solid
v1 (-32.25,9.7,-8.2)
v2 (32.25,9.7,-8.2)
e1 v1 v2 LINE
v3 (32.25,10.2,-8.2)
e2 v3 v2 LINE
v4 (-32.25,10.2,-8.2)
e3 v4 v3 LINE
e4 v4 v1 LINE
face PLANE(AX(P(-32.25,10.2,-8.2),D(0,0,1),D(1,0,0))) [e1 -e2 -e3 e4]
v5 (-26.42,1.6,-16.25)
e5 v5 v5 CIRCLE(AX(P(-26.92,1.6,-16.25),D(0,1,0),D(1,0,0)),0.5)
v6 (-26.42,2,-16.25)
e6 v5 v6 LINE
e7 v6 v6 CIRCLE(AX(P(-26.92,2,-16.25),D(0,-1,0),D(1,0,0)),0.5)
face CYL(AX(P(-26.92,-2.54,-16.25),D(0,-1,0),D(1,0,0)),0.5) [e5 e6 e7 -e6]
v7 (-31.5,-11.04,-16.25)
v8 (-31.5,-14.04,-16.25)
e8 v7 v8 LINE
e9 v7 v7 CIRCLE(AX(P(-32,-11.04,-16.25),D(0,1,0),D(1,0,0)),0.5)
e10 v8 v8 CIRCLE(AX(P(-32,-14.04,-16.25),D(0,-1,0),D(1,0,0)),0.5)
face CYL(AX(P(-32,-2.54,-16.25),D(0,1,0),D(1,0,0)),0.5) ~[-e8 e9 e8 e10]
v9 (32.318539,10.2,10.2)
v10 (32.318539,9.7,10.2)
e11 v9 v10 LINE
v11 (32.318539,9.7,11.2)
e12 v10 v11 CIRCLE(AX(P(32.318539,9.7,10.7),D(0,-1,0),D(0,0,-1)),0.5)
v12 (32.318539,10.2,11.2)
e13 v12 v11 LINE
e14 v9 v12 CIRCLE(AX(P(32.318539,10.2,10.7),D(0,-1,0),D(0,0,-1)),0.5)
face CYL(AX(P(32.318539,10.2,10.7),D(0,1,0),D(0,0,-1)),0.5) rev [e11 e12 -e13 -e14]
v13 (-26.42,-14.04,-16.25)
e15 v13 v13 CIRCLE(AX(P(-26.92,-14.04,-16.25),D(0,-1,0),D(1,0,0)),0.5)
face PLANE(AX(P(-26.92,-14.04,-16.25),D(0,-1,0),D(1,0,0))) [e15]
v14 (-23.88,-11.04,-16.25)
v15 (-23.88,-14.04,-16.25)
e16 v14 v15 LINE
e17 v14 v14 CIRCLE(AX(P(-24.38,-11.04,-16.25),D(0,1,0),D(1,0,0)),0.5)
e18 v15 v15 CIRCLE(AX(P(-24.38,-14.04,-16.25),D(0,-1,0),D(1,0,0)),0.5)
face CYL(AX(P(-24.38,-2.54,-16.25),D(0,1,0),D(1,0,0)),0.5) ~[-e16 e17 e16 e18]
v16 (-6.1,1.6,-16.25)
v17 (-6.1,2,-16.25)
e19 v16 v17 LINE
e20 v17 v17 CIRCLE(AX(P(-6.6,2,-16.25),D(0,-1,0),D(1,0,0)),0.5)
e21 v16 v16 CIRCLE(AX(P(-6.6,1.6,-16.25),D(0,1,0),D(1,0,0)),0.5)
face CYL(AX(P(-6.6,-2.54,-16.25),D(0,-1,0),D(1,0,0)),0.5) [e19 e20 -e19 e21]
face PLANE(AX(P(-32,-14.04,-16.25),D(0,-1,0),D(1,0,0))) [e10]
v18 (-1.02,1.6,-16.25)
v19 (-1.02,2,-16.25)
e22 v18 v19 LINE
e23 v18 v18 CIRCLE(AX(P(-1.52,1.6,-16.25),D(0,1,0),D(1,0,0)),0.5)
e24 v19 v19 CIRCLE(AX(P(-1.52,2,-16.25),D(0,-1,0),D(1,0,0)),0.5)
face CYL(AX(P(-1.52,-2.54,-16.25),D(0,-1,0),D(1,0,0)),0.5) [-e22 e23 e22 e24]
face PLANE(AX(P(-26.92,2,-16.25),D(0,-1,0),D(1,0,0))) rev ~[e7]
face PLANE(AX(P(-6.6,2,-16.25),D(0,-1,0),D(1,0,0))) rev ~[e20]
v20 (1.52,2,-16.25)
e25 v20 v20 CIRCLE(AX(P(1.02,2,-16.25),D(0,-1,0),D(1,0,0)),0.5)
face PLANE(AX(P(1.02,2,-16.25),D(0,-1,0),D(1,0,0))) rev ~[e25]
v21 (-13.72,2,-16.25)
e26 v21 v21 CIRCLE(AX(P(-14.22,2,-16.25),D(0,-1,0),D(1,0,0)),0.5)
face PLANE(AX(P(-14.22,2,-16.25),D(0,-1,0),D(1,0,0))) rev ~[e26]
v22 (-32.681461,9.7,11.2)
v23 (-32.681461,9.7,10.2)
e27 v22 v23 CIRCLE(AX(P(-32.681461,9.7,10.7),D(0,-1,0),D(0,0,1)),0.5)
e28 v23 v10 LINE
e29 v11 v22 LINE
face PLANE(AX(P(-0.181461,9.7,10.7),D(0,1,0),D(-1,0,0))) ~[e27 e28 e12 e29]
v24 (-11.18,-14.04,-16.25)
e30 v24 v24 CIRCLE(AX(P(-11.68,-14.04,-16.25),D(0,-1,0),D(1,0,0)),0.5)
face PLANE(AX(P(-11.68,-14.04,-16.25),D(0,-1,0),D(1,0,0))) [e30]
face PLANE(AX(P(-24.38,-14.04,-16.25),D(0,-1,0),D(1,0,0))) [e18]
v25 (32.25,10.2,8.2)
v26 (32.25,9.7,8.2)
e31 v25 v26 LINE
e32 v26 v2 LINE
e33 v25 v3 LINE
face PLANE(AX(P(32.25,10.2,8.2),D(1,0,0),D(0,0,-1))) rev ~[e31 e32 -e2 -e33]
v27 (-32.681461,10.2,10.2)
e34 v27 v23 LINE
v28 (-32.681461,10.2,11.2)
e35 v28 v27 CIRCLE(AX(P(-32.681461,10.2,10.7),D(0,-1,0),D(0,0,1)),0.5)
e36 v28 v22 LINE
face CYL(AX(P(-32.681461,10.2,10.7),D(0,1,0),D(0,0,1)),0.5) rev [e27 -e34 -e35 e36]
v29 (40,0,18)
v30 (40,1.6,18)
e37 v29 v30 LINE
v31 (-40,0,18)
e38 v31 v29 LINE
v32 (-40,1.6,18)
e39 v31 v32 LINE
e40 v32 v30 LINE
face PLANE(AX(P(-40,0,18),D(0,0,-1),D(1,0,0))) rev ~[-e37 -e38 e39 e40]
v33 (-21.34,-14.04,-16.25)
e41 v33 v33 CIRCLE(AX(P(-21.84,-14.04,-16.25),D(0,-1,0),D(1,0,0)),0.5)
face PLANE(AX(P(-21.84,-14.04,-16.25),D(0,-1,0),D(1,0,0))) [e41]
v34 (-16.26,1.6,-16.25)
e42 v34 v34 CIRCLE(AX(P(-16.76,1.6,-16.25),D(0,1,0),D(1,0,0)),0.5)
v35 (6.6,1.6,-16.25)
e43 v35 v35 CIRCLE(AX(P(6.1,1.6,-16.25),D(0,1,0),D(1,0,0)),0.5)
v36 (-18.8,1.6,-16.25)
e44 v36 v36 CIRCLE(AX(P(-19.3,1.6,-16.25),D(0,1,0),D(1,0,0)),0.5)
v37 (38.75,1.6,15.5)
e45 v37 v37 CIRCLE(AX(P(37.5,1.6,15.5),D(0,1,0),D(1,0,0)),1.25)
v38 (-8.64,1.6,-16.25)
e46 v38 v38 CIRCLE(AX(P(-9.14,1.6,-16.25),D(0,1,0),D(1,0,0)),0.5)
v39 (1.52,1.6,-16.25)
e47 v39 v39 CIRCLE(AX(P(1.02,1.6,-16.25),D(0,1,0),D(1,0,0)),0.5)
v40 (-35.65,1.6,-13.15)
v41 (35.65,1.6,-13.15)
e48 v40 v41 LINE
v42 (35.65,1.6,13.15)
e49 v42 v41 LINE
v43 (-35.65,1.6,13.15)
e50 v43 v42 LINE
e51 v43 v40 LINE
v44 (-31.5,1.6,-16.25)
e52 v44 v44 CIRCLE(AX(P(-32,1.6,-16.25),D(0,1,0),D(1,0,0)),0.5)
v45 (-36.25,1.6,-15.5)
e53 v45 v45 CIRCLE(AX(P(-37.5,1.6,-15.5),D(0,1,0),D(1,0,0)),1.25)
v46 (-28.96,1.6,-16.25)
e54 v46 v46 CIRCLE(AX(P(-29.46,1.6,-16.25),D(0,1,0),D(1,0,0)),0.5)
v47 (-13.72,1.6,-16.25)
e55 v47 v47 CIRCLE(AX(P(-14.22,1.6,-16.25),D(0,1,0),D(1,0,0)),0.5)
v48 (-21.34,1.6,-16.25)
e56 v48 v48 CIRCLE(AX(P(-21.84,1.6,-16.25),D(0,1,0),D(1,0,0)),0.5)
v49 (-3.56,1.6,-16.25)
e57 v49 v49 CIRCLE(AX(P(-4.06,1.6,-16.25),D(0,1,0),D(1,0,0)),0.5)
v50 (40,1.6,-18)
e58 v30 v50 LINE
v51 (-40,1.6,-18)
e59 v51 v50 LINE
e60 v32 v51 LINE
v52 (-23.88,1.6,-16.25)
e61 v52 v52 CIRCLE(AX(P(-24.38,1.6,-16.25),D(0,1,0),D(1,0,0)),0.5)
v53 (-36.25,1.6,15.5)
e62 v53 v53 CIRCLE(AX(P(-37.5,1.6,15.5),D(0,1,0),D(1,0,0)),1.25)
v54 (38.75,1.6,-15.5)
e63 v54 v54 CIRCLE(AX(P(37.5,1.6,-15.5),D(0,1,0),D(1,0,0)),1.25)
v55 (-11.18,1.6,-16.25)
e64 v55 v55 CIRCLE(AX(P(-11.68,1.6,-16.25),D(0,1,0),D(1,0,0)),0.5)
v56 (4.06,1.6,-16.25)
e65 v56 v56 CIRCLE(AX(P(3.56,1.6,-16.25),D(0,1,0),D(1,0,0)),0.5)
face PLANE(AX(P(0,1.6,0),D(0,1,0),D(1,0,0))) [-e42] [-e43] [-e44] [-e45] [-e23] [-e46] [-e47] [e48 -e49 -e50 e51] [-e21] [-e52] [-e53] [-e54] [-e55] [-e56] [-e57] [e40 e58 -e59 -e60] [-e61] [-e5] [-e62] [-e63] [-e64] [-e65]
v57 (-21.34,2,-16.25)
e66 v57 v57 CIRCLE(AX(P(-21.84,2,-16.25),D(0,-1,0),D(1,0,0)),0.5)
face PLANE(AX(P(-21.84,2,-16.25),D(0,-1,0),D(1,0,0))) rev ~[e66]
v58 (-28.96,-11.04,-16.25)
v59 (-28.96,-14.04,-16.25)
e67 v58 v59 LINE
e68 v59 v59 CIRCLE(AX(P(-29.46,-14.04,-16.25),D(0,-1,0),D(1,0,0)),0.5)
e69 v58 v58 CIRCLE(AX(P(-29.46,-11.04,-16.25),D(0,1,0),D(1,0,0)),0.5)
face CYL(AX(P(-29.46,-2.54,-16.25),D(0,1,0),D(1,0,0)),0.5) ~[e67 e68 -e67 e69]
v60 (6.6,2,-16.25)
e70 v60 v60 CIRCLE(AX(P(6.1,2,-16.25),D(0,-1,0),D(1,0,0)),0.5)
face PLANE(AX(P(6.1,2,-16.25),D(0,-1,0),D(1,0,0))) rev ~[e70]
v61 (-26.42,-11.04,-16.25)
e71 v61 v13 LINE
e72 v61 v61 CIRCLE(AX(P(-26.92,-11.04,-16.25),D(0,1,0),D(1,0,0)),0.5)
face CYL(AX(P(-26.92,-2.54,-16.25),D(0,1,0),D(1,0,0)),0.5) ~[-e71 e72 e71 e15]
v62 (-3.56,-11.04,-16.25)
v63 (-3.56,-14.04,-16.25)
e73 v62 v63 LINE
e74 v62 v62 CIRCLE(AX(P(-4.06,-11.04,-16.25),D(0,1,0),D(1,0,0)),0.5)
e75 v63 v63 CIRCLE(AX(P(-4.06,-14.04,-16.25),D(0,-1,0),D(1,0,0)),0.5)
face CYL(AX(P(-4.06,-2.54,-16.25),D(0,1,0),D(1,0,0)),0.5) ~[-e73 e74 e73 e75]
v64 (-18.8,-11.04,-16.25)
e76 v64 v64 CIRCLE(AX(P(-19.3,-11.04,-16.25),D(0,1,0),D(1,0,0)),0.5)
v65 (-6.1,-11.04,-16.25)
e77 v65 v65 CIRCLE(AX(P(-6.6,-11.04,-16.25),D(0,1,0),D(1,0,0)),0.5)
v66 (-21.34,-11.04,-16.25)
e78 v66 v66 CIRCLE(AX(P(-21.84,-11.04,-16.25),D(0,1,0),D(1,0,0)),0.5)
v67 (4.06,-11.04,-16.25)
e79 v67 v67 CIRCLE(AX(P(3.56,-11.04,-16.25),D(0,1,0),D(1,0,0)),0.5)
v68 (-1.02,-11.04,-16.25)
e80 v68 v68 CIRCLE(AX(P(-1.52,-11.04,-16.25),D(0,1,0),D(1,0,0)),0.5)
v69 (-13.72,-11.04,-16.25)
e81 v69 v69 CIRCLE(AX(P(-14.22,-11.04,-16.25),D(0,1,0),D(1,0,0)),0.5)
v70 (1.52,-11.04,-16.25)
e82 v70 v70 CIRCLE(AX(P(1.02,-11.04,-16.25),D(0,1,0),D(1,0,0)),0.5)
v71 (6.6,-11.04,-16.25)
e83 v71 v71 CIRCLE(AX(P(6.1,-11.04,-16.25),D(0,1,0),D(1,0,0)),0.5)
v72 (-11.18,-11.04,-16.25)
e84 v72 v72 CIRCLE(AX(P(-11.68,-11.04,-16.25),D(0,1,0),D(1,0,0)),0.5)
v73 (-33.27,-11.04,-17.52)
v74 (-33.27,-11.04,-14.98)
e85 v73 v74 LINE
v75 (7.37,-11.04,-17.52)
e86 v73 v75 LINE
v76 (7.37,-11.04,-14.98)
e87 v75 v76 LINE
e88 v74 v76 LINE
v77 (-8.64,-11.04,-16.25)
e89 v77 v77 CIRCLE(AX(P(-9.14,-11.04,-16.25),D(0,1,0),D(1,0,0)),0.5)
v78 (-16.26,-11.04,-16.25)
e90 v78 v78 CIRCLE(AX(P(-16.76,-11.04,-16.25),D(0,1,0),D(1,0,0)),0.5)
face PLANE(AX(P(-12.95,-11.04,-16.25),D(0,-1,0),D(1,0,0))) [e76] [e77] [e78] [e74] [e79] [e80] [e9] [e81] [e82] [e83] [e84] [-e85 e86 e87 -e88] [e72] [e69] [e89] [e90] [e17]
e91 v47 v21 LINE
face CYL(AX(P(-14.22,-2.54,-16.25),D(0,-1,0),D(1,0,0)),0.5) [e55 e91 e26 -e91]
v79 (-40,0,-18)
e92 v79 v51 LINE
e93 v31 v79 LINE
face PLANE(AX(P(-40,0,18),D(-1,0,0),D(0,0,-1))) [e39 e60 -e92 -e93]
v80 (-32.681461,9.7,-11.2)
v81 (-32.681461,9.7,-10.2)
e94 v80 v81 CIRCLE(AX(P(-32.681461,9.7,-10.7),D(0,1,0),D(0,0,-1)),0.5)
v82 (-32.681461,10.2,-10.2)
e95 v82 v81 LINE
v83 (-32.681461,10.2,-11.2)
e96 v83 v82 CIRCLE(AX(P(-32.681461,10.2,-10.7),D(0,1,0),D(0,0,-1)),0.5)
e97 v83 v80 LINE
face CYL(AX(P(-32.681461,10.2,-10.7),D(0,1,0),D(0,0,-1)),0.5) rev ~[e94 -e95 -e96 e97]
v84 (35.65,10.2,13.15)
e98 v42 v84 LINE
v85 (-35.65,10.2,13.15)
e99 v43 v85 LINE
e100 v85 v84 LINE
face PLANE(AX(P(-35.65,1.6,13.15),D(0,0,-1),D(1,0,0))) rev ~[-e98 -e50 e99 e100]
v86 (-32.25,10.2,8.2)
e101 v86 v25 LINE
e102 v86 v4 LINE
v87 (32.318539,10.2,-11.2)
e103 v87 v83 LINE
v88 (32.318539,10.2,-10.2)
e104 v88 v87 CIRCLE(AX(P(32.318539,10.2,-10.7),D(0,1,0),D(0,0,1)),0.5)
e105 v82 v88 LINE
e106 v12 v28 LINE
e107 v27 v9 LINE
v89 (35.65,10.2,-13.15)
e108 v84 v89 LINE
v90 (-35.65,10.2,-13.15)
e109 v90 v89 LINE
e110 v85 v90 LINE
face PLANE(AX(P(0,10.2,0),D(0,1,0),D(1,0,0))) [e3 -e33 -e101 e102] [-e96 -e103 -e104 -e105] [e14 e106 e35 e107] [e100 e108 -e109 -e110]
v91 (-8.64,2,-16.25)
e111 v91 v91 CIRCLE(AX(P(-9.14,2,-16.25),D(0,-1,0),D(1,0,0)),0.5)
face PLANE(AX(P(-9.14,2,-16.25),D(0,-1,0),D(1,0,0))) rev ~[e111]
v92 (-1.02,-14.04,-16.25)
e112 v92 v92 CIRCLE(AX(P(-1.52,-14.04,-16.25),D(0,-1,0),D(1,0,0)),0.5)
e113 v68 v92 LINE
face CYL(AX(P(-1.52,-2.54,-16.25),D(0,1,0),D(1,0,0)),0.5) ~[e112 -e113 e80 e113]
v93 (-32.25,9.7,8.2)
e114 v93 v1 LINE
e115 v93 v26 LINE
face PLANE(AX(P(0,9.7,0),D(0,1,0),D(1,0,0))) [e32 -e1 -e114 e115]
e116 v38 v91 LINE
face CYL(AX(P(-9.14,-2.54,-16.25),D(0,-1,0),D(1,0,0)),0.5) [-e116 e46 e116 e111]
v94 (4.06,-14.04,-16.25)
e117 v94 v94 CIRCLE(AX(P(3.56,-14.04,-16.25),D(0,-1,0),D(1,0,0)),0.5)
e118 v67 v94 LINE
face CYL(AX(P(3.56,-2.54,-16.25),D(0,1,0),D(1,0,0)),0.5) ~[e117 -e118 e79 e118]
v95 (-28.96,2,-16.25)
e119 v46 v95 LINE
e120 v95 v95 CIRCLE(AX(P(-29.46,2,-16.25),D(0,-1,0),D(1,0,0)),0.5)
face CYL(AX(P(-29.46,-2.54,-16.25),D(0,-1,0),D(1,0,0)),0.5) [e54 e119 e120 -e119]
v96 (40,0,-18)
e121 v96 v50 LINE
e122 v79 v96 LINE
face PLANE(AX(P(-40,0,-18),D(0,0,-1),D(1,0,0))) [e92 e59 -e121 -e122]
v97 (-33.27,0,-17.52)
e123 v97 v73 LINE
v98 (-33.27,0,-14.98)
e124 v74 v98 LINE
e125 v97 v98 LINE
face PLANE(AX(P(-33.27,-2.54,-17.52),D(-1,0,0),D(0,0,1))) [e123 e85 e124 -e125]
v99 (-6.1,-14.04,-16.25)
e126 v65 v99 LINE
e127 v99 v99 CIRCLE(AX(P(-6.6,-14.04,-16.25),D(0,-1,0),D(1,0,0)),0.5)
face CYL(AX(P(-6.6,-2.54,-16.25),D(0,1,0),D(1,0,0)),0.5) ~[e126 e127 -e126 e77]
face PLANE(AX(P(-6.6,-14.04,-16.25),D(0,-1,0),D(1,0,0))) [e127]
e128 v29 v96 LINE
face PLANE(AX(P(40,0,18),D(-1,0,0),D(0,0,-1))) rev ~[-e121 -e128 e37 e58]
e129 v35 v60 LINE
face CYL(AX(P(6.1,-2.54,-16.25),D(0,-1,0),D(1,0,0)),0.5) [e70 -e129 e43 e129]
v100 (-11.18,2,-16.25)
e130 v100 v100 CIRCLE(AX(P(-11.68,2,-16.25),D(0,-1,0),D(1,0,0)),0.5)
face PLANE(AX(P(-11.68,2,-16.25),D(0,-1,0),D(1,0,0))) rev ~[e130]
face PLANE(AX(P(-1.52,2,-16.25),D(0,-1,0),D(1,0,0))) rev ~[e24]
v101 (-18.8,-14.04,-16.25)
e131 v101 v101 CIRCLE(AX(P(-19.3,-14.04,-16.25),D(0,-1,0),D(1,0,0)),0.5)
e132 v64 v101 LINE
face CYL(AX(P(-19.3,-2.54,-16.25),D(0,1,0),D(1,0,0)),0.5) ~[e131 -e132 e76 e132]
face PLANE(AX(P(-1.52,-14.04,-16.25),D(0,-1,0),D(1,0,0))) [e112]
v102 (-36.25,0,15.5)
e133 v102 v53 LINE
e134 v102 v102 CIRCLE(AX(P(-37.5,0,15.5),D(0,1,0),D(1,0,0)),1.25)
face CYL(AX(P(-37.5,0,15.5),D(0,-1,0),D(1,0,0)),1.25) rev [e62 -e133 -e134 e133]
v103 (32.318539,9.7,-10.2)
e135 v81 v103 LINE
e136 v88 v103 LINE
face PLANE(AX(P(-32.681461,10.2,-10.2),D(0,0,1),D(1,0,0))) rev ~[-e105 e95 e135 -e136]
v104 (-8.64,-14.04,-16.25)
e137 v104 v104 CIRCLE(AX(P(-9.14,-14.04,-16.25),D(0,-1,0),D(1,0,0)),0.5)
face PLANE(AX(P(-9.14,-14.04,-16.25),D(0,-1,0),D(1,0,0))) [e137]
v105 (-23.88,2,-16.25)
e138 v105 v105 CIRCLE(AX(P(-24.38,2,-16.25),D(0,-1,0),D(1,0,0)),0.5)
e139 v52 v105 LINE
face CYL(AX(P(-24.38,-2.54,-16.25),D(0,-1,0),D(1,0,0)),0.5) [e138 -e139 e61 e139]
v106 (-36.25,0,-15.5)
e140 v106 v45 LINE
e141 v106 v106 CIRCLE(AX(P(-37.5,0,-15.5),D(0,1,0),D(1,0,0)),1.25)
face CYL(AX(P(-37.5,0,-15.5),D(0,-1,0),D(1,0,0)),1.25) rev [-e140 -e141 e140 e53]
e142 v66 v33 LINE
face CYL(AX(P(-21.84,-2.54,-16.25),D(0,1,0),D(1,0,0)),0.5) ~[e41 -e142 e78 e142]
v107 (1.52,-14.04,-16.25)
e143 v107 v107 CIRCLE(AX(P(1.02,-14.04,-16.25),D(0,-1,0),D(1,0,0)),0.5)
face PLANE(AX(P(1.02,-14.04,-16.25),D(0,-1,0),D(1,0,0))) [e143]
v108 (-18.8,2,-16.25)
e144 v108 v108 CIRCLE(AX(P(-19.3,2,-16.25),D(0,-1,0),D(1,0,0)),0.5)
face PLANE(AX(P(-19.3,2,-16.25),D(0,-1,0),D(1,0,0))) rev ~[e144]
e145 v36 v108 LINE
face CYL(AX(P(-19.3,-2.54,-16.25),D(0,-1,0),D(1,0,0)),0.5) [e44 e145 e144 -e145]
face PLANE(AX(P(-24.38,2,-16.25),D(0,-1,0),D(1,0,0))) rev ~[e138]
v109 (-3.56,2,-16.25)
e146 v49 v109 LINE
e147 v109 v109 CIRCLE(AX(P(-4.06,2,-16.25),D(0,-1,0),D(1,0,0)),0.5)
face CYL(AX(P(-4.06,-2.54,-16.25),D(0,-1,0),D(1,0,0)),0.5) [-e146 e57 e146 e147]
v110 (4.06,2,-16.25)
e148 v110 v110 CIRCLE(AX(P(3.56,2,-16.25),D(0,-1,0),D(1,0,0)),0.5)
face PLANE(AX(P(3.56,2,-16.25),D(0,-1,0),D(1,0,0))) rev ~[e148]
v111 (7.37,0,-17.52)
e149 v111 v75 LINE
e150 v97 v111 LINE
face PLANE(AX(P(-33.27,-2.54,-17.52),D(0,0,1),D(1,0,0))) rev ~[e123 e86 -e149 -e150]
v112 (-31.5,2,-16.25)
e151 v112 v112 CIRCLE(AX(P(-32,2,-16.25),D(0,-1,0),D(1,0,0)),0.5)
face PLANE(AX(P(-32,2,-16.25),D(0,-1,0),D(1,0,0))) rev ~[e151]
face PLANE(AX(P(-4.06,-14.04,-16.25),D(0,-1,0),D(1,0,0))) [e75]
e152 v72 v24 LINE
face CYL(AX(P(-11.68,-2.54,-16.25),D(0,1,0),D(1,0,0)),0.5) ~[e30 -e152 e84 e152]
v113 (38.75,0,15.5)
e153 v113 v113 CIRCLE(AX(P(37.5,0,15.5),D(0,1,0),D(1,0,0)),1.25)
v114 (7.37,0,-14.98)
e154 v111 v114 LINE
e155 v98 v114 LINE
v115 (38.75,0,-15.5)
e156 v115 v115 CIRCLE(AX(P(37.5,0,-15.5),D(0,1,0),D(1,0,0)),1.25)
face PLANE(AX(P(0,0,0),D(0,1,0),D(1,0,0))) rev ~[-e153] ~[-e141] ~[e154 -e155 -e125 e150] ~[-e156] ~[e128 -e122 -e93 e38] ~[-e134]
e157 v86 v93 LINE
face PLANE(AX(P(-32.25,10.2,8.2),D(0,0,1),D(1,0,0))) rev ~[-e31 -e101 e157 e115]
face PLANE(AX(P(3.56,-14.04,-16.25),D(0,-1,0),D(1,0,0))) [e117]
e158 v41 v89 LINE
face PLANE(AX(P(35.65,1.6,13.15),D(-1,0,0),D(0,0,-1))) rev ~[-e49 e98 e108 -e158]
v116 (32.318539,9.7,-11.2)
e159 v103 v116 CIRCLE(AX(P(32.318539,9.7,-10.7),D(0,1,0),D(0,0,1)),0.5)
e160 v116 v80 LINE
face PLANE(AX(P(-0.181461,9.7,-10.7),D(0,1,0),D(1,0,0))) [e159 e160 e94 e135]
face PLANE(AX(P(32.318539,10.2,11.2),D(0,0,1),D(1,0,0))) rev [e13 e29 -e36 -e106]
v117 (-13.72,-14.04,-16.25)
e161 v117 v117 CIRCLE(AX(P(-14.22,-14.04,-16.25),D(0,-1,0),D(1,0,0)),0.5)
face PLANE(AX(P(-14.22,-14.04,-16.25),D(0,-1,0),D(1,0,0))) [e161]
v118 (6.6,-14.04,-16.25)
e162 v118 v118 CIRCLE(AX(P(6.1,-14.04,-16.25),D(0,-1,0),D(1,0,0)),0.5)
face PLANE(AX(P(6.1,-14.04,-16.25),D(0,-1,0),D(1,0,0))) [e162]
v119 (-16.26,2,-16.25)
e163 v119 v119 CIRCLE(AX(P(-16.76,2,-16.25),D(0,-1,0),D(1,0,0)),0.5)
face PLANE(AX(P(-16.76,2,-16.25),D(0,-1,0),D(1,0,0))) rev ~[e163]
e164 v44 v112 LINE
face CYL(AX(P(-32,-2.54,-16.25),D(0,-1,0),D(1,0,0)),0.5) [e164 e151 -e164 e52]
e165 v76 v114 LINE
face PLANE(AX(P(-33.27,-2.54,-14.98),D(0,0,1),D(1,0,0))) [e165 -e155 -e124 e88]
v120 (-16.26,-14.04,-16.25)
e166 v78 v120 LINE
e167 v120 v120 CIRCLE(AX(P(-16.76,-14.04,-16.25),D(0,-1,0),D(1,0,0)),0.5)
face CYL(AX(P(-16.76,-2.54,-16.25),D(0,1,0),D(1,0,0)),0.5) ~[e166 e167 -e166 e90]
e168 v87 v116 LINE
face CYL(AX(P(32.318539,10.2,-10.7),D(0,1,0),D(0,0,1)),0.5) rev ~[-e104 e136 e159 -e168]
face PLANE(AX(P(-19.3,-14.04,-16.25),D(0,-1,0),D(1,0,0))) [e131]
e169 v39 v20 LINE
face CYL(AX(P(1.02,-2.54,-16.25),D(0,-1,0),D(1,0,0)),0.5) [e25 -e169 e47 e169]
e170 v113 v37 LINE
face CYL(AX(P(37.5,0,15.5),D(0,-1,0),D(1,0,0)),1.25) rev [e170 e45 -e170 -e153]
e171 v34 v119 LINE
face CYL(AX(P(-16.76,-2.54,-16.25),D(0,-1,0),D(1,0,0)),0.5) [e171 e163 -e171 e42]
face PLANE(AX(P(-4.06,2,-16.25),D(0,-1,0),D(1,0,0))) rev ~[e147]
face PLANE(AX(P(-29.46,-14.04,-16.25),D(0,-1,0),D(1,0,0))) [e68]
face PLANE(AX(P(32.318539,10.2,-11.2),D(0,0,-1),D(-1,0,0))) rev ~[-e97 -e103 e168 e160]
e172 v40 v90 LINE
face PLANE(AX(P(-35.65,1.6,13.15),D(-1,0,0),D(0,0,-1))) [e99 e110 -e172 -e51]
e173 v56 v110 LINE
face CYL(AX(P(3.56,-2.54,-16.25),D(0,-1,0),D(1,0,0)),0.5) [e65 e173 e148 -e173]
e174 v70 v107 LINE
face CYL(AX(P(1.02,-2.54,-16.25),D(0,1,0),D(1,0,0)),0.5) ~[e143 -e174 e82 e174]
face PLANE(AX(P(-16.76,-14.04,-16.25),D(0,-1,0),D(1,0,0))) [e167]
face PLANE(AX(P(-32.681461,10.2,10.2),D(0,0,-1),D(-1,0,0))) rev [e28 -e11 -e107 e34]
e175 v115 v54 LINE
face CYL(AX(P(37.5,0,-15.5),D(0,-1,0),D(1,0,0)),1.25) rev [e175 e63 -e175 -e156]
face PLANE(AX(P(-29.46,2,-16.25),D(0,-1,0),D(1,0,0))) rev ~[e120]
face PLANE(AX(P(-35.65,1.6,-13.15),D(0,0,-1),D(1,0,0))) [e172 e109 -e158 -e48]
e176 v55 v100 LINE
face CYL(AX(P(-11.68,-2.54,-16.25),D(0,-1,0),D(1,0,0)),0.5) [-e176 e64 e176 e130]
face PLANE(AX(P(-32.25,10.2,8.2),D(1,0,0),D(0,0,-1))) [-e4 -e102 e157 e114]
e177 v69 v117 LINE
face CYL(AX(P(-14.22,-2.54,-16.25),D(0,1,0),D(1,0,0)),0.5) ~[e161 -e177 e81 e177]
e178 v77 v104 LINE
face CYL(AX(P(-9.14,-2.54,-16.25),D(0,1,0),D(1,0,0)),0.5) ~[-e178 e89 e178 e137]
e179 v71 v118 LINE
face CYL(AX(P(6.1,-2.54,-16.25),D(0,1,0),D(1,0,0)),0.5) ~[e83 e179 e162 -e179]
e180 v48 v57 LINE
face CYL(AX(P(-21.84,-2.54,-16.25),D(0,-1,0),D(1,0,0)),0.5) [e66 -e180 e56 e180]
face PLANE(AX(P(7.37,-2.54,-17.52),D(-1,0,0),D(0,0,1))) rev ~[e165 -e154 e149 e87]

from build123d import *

# Parameters (mm, degrees)
SKETCH1_W                = 80
SKETCH1_H                = 36
SKETCH1_R                = 1.25
SKETCH1_R_2              = 0.5
BOSS_EXTRUDE1_DEPTH      = 1.6
SKETCH2_W                = 71.3
SKETCH2_H                = 26.3
BOSS_EXTRUDE2_DEPTH      = 8.6
SKETCH3_W                = 64.5
SKETCH3_H                = 16.4
CUT_EXTRUDE1_DEPTH       = 0.5
CUT_EXTRUDE2_DEPTH       = 0.5
SKETCH5_W                = 40.64
SKETCH5_H                = 2.54
BOSS_EXTRUDE3_DEPTH      = 2.54
SKETCH6_R                = 0.5
BOSS_EXTRUDE4_DEPTH      = 11.5
BOSS_EXTRUDE4_DEPTH_BACK = 4.54
SKETCH7_W                = 40.64
SKETCH7_H                = 2.54
BOSS_EXTRUDE5_DEPTH      = 8.5


with BuildPart() as part:
    # Sketch1 → Boss-Extrude1 (new body)
    with BuildSketch(Plane(origin=(0, 0, 0), x_dir=(1, 0, 0), z_dir=(0, 1, 0))):
        Rectangle(SKETCH1_W, SKETCH1_H)
        with Locations((-37.5, 15.5)):
            Circle(SKETCH1_R, mode=Mode.SUBTRACT)
        with Locations((37.5, 15.5)):
            Circle(SKETCH1_R, mode=Mode.SUBTRACT)
        with Locations((37.5, -15.5)):
            Circle(SKETCH1_R, mode=Mode.SUBTRACT)
        with Locations((-37.5, -15.5)):
            Circle(SKETCH1_R, mode=Mode.SUBTRACT)
        with Locations((-32, 16.25)):
            Circle(SKETCH1_R_2, mode=Mode.SUBTRACT)
        with Locations((-29.46, 16.25)):
            Circle(SKETCH1_R_2, mode=Mode.SUBTRACT)
        with Locations((-26.92, 16.25)):
            Circle(SKETCH1_R_2, mode=Mode.SUBTRACT)
        with Locations((-24.38, 16.25)):
            Circle(SKETCH1_R_2, mode=Mode.SUBTRACT)
        with Locations((-21.84, 16.25)):
            Circle(SKETCH1_R_2, mode=Mode.SUBTRACT)
        with Locations((-19.3, 16.25)):
            Circle(SKETCH1_R_2, mode=Mode.SUBTRACT)
        with Locations((-16.76, 16.25)):
            Circle(SKETCH1_R_2, mode=Mode.SUBTRACT)
        with Locations((-14.22, 16.25)):
            Circle(SKETCH1_R_2, mode=Mode.SUBTRACT)
        with Locations((-11.68, 16.25)):
            Circle(SKETCH1_R_2, mode=Mode.SUBTRACT)
        with Locations((-9.14, 16.25)):
            Circle(SKETCH1_R_2, mode=Mode.SUBTRACT)
        with Locations((-6.6, 16.25)):
            Circle(SKETCH1_R_2, mode=Mode.SUBTRACT)
        with Locations((-4.06, 16.25)):
            Circle(SKETCH1_R_2, mode=Mode.SUBTRACT)
        with Locations((-1.52, 16.25)):
            Circle(SKETCH1_R_2, mode=Mode.SUBTRACT)
        with Locations((1.02, 16.25)):
            Circle(SKETCH1_R_2, mode=Mode.SUBTRACT)
        with Locations((3.56, 16.25)):
            Circle(SKETCH1_R_2, mode=Mode.SUBTRACT)
        with Locations((6.1, 16.25)):
            Circle(SKETCH1_R_2, mode=Mode.SUBTRACT)
    extrude(amount=BOSS_EXTRUDE1_DEPTH)

    # Sketch2 → Boss-Extrude2 (add)
    with BuildSketch(Plane(origin=(0, 1.6, 0), x_dir=(1, 0, 0), z_dir=(0, 1, 0))):
        Rectangle(SKETCH2_W, SKETCH2_H)
    extrude(amount=BOSS_EXTRUDE2_DEPTH)

    # Sketch3 → Cut-Extrude1 (cut)
    with BuildSketch(Plane(origin=(0, 10.2, 0), x_dir=(1, 0, 0), z_dir=(0, 1, 0))):
        Rectangle(SKETCH3_W, SKETCH3_H)
    extrude(amount=-CUT_EXTRUDE1_DEPTH, mode=Mode.SUBTRACT)

    # Sketch4 → Cut-Extrude2 (cut)
    with BuildSketch(Plane(origin=(0, 10.2, 0), x_dir=(1, 0, 0), z_dir=(0, 1, 0))):
        with BuildLine():
            Line((-32.681461103, 10.2), (32.318538897, 10.2))
            ThreePointArc((32.318538897, 10.2), (32.818538897, 10.7), (32.318538897, 11.2))
            Line((32.318538897, 11.2), (-32.681461103, 11.2))
            ThreePointArc((-32.681461103, 11.2), (-33.181461103, 10.7), (-32.681461103, 10.2))
        make_face()
    cut_extrude2 = extrude(amount=-CUT_EXTRUDE2_DEPTH, mode=Mode.SUBTRACT)

    # Mirror1: Cut-Extrude2 across plane
    add(cut_extrude2.mirror(Plane.XY), mode=Mode.SUBTRACT)

    # Sketch5 → Boss-Extrude3 (add)
    with BuildSketch(Plane.XZ):
        with Locations((-12.95, -16.25)):
            Rectangle(SKETCH5_W, SKETCH5_H)
    extrude(amount=BOSS_EXTRUDE3_DEPTH)

    # Sketch6 → Boss-Extrude4 (add, two sides)
    with BuildSketch(Plane.XZ.offset(2.54)) as boss_extrude4_sk:
        with Locations((-32, -16.25)):
            Circle(SKETCH6_R)
        with Locations((-29.46, -16.25)):
            Circle(SKETCH6_R)
        with Locations((-26.92, -16.25)):
            Circle(SKETCH6_R)
        with Locations((-24.38, -16.25)):
            Circle(SKETCH6_R)
        with Locations((-21.84, -16.25)):
            Circle(SKETCH6_R)
        with Locations((-19.3, -16.25)):
            Circle(SKETCH6_R)
        with Locations((-16.76, -16.25)):
            Circle(SKETCH6_R)
        with Locations((-14.22, -16.25)):
            Circle(SKETCH6_R)
        with Locations((-11.68, -16.25)):
            Circle(SKETCH6_R)
        with Locations((-9.14, -16.25)):
            Circle(SKETCH6_R)
        with Locations((-6.6, -16.25)):
            Circle(SKETCH6_R)
        with Locations((-4.06, -16.25)):
            Circle(SKETCH6_R)
        with Locations((-1.52, -16.25)):
            Circle(SKETCH6_R)
        with Locations((1.02, -16.25)):
            Circle(SKETCH6_R)
        with Locations((3.56, -16.25)):
            Circle(SKETCH6_R)
        with Locations((6.1, -16.25)):
            Circle(SKETCH6_R)
    extrude(amount=BOSS_EXTRUDE4_DEPTH)
    extrude(boss_extrude4_sk.sketch, amount=-BOSS_EXTRUDE4_DEPTH_BACK)

    # Sketch7 → Boss-Extrude5 (add)
    with BuildSketch(Plane.XZ.offset(2.54)):
        with Locations((-12.95, -16.25)):
            Rectangle(SKETCH7_W, SKETCH7_H)
    extrude(amount=BOSS_EXTRUDE5_DEPTH)


solid = part.part
